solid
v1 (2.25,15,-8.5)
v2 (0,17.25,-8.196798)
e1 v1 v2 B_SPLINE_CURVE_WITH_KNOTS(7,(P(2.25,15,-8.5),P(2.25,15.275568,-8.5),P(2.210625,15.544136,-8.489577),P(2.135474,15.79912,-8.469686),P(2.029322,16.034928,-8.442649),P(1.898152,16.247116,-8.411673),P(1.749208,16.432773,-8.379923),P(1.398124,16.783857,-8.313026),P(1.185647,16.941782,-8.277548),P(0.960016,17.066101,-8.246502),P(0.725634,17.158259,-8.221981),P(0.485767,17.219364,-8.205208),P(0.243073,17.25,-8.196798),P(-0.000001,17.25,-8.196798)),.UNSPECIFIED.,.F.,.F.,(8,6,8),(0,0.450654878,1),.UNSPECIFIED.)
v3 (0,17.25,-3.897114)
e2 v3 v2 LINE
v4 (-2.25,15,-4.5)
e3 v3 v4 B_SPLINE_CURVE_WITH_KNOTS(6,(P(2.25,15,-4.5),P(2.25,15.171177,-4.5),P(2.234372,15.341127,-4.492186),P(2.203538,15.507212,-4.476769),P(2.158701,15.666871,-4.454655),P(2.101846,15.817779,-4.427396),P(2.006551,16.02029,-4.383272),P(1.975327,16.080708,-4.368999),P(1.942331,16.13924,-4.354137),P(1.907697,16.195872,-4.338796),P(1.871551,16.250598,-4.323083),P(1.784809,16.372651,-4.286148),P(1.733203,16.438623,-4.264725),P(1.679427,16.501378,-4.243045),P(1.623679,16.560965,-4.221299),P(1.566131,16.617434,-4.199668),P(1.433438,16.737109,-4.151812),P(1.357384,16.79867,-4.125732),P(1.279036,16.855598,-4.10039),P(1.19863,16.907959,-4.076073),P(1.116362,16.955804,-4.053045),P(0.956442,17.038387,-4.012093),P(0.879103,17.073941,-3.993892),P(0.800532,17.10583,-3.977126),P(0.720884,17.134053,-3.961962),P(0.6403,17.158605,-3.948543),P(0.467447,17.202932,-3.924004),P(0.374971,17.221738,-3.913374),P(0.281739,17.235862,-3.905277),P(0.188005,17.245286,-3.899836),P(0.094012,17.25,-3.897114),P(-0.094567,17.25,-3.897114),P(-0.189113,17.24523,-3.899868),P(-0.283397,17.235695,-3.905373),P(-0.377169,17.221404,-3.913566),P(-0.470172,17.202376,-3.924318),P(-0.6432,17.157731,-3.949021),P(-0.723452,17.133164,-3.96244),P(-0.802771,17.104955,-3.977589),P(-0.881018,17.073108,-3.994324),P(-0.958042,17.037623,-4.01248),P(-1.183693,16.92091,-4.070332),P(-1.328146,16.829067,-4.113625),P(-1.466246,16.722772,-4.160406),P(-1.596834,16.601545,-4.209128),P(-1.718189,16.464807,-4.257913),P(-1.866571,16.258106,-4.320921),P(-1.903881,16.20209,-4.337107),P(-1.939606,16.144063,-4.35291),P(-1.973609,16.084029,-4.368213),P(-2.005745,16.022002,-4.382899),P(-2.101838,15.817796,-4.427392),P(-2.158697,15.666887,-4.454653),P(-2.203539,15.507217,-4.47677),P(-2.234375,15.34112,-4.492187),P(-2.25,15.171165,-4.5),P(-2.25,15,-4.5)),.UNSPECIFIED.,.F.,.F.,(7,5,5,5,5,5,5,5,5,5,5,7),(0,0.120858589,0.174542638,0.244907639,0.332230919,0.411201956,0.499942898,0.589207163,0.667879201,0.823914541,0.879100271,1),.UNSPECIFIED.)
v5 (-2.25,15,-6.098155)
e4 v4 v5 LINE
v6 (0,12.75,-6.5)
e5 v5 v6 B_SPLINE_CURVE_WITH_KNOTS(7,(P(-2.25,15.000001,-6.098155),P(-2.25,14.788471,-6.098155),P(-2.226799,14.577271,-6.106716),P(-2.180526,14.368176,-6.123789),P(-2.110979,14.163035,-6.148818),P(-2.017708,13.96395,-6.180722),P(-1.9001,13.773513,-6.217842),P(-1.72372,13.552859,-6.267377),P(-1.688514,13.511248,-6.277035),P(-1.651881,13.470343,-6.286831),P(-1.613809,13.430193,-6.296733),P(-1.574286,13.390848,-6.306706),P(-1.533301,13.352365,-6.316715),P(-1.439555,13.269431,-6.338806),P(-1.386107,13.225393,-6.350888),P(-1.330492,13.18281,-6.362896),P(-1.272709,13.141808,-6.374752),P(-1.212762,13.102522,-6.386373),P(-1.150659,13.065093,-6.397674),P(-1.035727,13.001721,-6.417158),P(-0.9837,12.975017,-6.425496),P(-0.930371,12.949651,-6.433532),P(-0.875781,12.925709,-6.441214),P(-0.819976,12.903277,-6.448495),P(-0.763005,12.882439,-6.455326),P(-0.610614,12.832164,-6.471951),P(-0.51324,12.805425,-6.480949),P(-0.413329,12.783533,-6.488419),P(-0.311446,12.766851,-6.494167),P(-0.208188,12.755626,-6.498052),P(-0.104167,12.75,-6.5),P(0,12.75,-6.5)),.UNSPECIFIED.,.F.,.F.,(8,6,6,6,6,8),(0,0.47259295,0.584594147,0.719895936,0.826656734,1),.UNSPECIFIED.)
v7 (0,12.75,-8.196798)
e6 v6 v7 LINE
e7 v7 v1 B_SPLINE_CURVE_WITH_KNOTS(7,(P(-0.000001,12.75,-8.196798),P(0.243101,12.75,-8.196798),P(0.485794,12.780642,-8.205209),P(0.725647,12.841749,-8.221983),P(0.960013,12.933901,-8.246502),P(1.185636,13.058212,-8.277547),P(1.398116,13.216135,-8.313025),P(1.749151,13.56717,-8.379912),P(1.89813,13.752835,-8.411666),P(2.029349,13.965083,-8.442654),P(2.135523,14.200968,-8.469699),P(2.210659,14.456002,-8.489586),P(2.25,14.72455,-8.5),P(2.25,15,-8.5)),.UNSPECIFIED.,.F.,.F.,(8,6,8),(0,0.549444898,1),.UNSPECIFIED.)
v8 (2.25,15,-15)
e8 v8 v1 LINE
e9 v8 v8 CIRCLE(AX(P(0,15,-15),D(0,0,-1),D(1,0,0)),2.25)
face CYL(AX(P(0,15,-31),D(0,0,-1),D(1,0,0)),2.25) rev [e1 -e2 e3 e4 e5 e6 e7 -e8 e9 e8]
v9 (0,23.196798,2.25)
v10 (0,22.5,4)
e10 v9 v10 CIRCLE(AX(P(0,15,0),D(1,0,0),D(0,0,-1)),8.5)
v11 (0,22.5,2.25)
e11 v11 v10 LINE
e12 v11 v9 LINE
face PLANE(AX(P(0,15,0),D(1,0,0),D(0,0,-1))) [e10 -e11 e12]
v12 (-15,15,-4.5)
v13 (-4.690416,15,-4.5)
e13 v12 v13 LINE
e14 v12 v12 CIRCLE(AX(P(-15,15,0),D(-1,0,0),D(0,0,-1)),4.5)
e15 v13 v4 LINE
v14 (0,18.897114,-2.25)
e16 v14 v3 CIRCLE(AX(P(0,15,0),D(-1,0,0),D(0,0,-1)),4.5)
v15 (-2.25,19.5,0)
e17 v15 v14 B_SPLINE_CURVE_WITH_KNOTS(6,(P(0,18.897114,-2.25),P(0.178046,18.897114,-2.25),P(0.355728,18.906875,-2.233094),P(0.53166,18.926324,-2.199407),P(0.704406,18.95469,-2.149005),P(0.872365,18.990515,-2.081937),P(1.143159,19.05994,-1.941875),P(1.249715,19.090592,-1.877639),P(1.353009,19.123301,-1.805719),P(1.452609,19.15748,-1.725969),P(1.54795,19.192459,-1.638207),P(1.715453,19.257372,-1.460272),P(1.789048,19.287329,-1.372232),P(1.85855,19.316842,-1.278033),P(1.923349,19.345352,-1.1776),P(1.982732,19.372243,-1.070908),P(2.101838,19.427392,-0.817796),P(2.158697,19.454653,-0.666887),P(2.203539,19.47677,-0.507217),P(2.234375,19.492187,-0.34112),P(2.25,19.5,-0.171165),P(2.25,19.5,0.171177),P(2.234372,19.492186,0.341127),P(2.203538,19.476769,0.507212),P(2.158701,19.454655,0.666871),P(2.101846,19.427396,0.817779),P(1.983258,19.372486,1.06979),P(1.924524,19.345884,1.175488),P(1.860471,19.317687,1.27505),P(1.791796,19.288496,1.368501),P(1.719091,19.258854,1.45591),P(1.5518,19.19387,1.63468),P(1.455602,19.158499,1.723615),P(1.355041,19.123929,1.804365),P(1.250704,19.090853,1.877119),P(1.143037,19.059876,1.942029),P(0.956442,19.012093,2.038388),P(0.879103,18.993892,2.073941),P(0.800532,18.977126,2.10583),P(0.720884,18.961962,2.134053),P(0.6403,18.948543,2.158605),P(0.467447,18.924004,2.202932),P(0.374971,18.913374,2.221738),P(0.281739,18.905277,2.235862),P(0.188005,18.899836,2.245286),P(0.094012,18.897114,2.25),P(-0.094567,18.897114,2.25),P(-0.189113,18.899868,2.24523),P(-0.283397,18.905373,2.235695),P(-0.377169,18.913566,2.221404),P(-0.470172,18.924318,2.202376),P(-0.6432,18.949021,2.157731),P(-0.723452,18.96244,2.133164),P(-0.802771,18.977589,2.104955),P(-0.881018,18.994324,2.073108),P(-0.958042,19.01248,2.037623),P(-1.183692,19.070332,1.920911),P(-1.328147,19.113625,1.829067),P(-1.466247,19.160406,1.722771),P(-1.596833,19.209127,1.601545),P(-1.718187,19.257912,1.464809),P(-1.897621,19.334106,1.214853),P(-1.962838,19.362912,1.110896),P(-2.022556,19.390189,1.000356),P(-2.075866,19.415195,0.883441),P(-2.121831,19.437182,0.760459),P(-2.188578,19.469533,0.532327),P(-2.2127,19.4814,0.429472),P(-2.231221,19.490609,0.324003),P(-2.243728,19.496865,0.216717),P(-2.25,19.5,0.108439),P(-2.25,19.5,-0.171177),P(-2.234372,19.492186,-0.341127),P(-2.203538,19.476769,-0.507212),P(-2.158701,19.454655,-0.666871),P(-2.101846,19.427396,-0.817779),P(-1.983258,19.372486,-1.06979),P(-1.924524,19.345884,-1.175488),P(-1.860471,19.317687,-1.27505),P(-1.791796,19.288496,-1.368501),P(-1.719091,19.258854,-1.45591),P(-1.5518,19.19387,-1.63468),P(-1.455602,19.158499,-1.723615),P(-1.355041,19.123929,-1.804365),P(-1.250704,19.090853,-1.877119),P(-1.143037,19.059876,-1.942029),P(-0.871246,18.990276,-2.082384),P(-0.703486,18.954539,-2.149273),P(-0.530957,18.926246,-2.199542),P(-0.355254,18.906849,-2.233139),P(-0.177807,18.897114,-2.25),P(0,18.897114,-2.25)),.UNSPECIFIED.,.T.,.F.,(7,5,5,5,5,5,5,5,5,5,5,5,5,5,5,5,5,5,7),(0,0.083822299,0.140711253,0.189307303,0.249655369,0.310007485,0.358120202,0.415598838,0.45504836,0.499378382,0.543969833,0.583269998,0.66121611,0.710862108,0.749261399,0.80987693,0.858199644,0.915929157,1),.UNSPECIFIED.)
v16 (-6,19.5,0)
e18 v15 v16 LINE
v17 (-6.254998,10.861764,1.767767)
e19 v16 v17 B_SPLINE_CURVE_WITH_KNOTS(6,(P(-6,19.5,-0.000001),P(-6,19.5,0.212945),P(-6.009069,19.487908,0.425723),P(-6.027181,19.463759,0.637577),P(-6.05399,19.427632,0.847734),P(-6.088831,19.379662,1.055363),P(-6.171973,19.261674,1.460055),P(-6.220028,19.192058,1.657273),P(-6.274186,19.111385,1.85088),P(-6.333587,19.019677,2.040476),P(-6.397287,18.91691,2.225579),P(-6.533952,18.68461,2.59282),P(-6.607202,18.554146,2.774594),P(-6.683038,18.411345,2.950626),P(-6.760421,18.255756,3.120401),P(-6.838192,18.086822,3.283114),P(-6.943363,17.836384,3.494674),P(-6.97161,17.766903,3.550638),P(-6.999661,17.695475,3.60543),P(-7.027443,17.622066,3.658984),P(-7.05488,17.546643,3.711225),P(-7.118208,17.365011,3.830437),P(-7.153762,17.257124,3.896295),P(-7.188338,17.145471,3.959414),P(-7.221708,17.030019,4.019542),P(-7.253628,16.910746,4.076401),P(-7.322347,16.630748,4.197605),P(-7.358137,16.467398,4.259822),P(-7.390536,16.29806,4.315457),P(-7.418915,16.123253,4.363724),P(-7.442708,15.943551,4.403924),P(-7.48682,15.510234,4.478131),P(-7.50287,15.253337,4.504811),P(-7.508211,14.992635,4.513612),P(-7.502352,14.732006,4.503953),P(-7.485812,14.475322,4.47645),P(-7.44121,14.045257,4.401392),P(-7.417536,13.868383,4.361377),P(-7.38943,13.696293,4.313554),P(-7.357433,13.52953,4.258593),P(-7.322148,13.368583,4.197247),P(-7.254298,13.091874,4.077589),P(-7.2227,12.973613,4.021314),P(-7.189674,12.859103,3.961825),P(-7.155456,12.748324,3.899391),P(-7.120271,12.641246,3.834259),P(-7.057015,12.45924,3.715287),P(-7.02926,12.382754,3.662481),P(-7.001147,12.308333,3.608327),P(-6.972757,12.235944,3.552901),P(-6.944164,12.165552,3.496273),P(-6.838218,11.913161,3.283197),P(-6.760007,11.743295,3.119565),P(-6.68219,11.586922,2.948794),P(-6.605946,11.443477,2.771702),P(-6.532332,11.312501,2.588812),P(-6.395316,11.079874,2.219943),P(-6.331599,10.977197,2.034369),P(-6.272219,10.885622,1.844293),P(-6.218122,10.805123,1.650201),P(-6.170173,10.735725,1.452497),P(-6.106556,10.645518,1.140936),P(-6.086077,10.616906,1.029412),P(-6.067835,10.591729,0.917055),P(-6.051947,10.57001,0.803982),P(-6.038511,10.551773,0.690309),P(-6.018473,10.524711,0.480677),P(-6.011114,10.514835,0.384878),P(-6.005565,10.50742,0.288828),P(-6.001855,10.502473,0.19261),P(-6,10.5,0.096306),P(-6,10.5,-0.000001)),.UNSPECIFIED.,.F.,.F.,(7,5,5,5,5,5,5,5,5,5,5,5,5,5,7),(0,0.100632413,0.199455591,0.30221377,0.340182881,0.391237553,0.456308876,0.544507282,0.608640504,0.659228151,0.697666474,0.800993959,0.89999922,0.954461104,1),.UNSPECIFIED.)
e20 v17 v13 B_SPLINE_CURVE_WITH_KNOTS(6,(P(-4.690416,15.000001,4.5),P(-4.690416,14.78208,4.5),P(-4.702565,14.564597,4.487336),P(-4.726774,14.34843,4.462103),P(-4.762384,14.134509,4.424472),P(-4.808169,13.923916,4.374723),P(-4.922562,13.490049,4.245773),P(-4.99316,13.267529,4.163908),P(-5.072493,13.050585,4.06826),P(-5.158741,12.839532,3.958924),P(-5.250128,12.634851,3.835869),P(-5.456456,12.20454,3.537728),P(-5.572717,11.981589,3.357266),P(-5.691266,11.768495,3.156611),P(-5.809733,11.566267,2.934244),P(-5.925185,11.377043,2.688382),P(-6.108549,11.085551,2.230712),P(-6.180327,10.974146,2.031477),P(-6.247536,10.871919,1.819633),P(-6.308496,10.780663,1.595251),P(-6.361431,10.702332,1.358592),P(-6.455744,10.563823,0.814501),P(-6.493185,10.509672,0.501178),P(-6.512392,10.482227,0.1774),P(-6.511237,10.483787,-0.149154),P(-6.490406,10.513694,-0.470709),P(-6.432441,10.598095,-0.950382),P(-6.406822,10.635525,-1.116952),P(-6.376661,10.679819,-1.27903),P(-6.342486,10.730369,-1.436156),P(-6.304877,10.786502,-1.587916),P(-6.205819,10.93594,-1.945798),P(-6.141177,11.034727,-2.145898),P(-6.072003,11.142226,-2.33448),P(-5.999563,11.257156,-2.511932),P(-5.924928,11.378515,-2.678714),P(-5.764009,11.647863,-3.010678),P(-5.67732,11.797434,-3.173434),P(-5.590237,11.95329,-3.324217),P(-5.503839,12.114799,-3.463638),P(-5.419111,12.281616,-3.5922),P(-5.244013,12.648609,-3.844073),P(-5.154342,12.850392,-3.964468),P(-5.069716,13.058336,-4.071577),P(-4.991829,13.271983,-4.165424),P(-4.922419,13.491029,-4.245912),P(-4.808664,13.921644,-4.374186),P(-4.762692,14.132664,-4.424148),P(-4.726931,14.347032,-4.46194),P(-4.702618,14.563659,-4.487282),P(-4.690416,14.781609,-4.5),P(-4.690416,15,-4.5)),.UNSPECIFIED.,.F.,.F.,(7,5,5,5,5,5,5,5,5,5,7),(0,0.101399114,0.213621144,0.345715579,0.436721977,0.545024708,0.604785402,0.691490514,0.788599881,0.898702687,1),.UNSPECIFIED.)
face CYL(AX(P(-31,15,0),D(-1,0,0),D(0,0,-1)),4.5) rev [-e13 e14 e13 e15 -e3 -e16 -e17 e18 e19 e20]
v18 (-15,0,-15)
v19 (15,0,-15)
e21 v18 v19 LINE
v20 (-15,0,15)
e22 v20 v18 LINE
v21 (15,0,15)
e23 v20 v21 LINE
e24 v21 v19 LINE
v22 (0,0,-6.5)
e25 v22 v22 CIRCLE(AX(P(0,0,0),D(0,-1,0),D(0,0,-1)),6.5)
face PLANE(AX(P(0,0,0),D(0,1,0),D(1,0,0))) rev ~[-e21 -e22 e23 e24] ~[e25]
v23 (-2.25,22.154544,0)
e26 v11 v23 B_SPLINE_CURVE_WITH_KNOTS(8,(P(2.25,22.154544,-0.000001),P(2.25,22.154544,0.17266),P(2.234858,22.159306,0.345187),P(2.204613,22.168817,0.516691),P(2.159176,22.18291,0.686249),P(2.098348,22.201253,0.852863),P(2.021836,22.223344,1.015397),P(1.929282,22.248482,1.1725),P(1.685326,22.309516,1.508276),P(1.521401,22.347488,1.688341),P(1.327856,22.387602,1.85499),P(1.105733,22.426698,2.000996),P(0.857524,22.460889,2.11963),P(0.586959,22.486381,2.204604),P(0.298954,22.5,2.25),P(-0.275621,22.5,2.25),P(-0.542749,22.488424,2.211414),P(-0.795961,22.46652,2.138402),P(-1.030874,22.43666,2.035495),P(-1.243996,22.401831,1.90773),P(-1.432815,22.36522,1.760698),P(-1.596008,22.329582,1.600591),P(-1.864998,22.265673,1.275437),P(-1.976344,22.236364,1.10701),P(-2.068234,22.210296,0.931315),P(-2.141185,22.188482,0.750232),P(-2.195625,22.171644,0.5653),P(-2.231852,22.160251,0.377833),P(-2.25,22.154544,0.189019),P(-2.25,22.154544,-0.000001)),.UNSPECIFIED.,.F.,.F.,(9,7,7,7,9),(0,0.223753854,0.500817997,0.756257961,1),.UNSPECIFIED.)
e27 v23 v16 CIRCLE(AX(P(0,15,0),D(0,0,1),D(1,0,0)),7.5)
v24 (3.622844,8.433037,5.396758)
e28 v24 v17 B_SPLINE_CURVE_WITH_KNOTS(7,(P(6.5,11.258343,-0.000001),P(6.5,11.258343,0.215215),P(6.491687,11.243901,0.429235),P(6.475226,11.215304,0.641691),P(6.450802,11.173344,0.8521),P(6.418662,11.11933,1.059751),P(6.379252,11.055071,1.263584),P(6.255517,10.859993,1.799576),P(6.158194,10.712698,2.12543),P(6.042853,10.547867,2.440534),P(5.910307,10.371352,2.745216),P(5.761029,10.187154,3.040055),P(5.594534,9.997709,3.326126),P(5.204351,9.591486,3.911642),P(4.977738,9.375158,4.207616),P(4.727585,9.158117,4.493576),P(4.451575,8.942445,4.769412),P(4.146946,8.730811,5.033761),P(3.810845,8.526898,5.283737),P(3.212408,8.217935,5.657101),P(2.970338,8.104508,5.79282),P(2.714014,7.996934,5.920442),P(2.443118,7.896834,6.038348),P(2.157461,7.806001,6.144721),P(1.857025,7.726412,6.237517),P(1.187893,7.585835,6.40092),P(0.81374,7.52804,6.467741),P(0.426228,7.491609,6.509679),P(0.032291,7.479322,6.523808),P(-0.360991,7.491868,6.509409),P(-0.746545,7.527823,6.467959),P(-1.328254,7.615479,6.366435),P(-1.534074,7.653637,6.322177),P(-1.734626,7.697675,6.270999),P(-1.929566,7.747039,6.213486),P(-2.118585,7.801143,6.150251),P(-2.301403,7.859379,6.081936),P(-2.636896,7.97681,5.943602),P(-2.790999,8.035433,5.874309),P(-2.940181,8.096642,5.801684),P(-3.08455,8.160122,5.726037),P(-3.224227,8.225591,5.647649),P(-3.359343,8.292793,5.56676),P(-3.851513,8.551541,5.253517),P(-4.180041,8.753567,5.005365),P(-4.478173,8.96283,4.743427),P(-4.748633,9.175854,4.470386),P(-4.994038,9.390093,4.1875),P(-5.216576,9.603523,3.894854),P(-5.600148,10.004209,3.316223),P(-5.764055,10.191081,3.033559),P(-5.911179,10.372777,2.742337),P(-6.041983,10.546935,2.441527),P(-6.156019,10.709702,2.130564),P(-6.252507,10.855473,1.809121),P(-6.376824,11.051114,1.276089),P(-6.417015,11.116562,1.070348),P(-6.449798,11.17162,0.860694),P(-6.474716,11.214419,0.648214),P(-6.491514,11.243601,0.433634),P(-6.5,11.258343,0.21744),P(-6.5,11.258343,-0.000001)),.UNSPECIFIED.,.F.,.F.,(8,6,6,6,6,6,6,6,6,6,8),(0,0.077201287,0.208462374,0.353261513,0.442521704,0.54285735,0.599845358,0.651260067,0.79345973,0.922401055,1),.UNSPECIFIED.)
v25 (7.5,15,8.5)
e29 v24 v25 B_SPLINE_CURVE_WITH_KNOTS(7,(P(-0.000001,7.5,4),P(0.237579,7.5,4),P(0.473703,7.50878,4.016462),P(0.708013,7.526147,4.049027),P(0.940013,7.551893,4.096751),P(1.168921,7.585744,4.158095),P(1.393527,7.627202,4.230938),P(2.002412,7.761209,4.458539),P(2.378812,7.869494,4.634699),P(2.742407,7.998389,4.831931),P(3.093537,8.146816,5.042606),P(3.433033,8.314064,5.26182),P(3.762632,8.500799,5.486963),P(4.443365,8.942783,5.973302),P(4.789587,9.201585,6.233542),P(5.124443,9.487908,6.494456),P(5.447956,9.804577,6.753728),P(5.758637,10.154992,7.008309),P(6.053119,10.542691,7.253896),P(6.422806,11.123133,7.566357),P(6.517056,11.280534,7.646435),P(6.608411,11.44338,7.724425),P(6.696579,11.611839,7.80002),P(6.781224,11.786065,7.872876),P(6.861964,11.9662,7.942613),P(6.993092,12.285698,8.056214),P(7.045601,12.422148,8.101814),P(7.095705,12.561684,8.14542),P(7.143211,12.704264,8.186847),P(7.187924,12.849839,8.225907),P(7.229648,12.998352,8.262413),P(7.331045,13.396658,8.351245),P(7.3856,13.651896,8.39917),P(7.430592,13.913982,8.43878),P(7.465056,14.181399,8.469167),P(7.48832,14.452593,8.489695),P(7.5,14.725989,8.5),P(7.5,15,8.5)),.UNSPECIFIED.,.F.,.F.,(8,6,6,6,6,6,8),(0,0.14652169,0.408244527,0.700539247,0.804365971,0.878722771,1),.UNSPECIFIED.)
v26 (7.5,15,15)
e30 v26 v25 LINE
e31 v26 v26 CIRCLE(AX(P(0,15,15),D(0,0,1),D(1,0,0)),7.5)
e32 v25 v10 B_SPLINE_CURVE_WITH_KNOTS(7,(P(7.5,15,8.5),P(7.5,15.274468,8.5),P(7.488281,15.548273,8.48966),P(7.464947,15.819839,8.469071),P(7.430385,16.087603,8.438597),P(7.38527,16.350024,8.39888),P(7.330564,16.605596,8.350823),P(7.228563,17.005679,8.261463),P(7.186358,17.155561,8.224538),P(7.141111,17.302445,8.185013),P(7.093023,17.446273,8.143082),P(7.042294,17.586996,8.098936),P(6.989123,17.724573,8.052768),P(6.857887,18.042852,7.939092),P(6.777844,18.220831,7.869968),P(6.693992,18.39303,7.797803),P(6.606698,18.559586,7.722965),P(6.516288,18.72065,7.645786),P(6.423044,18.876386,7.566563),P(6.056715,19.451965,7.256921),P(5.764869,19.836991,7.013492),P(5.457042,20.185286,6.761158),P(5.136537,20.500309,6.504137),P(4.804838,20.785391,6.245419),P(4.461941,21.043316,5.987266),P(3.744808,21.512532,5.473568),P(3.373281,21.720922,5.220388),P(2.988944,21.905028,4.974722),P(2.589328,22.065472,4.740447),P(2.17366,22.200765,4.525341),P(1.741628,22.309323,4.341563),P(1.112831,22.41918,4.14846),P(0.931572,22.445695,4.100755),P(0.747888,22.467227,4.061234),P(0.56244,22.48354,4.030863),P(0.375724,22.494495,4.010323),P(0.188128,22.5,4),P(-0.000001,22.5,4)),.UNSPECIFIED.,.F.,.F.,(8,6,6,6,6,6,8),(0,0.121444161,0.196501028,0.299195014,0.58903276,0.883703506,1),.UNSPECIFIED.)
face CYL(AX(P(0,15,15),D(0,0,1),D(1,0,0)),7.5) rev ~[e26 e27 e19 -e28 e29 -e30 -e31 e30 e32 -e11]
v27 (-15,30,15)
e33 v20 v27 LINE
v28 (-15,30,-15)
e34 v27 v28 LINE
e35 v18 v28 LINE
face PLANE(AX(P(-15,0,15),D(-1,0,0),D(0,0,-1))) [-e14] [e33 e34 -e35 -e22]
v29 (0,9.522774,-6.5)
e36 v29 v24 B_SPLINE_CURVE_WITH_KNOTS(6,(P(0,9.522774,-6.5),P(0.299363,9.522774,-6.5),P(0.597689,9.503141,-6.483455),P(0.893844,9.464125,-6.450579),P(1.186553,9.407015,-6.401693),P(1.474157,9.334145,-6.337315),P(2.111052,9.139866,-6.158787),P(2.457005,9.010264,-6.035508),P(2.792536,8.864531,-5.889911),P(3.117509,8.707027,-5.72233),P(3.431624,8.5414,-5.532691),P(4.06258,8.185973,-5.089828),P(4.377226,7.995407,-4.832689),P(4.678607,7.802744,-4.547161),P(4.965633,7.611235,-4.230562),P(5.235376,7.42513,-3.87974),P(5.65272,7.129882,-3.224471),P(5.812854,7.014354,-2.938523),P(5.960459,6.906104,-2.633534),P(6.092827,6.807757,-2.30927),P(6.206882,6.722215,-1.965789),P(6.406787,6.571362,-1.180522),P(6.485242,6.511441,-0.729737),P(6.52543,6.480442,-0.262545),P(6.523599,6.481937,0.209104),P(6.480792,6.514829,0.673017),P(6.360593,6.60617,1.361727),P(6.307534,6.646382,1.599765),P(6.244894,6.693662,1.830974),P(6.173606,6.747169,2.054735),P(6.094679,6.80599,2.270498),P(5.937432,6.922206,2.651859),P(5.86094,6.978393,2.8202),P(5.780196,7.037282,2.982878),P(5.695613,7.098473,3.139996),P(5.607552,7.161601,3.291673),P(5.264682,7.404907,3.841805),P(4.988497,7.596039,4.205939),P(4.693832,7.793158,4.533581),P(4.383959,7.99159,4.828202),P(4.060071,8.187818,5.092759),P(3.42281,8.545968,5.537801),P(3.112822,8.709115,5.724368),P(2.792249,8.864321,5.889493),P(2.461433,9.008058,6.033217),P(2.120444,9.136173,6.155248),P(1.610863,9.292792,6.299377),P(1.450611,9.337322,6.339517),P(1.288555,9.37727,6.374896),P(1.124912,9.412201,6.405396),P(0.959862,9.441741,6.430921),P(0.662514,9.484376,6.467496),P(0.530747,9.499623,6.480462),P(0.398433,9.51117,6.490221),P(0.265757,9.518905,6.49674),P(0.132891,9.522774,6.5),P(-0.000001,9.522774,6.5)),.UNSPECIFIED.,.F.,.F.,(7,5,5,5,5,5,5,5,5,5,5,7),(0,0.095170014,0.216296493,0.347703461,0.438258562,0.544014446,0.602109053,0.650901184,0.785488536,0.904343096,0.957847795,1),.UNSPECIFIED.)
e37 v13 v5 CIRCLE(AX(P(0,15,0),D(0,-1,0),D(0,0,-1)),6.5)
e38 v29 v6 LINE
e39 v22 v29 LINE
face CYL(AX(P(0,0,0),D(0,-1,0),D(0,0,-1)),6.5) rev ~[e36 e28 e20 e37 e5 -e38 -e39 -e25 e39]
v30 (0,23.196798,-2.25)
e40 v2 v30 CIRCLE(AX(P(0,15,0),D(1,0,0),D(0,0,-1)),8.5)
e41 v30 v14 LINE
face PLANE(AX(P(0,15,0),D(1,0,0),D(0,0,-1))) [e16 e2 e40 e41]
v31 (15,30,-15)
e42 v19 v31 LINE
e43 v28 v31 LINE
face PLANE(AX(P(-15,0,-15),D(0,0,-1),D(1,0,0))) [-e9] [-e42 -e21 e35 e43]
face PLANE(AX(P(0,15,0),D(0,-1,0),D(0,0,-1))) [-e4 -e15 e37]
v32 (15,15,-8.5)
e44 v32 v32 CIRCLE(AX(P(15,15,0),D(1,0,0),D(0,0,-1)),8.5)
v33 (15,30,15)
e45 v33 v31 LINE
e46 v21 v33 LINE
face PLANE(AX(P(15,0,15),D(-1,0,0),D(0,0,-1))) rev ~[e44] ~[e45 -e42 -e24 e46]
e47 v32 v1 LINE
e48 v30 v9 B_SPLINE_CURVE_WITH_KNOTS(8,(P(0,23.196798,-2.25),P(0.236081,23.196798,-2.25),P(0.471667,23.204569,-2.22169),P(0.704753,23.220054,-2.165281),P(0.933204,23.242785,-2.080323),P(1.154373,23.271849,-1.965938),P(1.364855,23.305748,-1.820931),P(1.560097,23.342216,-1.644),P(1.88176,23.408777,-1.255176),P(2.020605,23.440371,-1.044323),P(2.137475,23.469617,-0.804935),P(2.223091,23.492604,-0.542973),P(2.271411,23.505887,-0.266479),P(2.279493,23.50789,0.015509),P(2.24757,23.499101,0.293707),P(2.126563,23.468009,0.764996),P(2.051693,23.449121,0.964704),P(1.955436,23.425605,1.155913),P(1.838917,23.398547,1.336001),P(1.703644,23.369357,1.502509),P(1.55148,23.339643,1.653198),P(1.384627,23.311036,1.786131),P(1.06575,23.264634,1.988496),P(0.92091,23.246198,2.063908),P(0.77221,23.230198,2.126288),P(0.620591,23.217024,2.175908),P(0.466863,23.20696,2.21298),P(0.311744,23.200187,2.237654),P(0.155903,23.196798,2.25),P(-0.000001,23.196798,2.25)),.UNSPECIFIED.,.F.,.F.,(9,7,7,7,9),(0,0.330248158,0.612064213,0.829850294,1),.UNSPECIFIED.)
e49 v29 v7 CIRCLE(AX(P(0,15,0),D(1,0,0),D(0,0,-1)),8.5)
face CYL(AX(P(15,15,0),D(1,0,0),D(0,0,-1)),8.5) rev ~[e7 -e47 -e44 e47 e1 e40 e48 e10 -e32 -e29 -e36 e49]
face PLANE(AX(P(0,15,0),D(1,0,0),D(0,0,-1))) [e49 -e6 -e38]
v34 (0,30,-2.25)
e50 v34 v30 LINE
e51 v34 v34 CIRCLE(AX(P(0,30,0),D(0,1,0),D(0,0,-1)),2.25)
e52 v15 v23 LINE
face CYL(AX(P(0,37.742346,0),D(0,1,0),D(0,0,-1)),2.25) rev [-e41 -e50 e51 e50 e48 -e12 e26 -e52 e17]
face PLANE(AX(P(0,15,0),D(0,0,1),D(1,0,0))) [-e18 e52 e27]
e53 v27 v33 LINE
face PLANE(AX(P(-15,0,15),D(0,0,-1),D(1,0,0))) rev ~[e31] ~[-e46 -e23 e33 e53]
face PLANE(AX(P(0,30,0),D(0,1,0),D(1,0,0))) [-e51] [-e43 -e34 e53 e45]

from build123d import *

# Parameters (mm, degrees)
SKETCH_1_W               = 30
SKETCH_1_H               = 30
EXTRUDE_1_DEPTH          = 30
SKETCH_2_R               = 6.5
CUT_EXTRUDE_1_DEPTH      = 15
SKETCH_3_R               = 8.5
CUT_EXTRUDE_2_DEPTH      = 15
SKETCH_4_R               = 7.5
CUT_EXTRUDE_3_DEPTH      = 15
CUT_EXTRUDE_5_DEPTH      = 37.742346223
CUT_EXTRUDE_5_DEPTH_BACK = 37.742346223
SKETCH_5_R               = 2.25
CUT_EXTRUDE_6_DEPTH      = 46.0000001
CUT_EXTRUDE_6_DEPTH_BACK = 46.0000001
SKETCH_6_R               = 2.25
CUT_EXTRUDE_7_DEPTH      = 46.0000001
CUT_EXTRUDE_7_DEPTH_BACK = 46.0000001
SKETCH_7_R               = 4.5


with BuildPart() as part:
    # 草图1 → 凸台-拉伸1 (new body)
    with BuildSketch(Plane(origin=(0, 0, 0), x_dir=(1, 0, 0), z_dir=(0, 1, 0))):
        Rectangle(SKETCH_1_W, SKETCH_1_H)
    extrude(amount=EXTRUDE_1_DEPTH)

    # 草图2 → 切除-拉伸1 (cut)
    with BuildSketch(Plane.XZ):
        with Locations(Location((0, 0, 0), (0, 0, 270))):
            Circle(SKETCH_2_R)
    extrude(amount=-CUT_EXTRUDE_1_DEPTH, mode=Mode.SUBTRACT)

    # 草图3 → 切除-拉伸2 (cut)
    with BuildSketch(Plane(origin=(15, 0, 0), x_dir=(0, 0, -1), z_dir=(1, 0, 0))):
        with Locations((0, 15)):
            Circle(SKETCH_3_R)
    extrude(amount=-CUT_EXTRUDE_2_DEPTH, mode=Mode.SUBTRACT)

    # 草图4 → 切除-拉伸3 (cut)
    with BuildSketch(Plane.XY.offset(15)):
        with Locations((0, 15)):
            Circle(SKETCH_4_R)
    extrude(amount=-CUT_EXTRUDE_3_DEPTH, mode=Mode.SUBTRACT)

    # 草图5 → 切除-拉伸5 (cut, two sides: drawn at the far end of the back side and taken through both)
    with BuildSketch(Plane.XZ.offset(-CUT_EXTRUDE_5_DEPTH_BACK)):
        with Locations(Location((0, 0, 0), (0, 0, 270))):
            Circle(SKETCH_5_R)
    extrude(amount=CUT_EXTRUDE_5_DEPTH + CUT_EXTRUDE_5_DEPTH_BACK, mode=Mode.SUBTRACT)

    # 草图6 → 切除-拉伸6 (cut, two sides: drawn at the far end of the back side and taken through both)
    with BuildSketch(Plane.XY.offset(15).offset(-CUT_EXTRUDE_6_DEPTH_BACK)):
        with Locations((0, 15)):
            Circle(SKETCH_6_R)
    extrude(amount=CUT_EXTRUDE_6_DEPTH + CUT_EXTRUDE_6_DEPTH_BACK, mode=Mode.SUBTRACT)

    # 草图7 → 切除-拉伸7 (cut, two sides: drawn at the far end of the back side and taken through both)
    with BuildSketch(Plane(origin=(15, 0, 0), x_dir=(0, 0, -1), z_dir=(1, 0, 0)).offset(-CUT_EXTRUDE_7_DEPTH_BACK)):
        with Locations((0, 15)):
            Circle(SKETCH_7_R)
    extrude(amount=CUT_EXTRUDE_7_DEPTH + CUT_EXTRUDE_7_DEPTH_BACK, mode=Mode.SUBTRACT)


solid = part.part
